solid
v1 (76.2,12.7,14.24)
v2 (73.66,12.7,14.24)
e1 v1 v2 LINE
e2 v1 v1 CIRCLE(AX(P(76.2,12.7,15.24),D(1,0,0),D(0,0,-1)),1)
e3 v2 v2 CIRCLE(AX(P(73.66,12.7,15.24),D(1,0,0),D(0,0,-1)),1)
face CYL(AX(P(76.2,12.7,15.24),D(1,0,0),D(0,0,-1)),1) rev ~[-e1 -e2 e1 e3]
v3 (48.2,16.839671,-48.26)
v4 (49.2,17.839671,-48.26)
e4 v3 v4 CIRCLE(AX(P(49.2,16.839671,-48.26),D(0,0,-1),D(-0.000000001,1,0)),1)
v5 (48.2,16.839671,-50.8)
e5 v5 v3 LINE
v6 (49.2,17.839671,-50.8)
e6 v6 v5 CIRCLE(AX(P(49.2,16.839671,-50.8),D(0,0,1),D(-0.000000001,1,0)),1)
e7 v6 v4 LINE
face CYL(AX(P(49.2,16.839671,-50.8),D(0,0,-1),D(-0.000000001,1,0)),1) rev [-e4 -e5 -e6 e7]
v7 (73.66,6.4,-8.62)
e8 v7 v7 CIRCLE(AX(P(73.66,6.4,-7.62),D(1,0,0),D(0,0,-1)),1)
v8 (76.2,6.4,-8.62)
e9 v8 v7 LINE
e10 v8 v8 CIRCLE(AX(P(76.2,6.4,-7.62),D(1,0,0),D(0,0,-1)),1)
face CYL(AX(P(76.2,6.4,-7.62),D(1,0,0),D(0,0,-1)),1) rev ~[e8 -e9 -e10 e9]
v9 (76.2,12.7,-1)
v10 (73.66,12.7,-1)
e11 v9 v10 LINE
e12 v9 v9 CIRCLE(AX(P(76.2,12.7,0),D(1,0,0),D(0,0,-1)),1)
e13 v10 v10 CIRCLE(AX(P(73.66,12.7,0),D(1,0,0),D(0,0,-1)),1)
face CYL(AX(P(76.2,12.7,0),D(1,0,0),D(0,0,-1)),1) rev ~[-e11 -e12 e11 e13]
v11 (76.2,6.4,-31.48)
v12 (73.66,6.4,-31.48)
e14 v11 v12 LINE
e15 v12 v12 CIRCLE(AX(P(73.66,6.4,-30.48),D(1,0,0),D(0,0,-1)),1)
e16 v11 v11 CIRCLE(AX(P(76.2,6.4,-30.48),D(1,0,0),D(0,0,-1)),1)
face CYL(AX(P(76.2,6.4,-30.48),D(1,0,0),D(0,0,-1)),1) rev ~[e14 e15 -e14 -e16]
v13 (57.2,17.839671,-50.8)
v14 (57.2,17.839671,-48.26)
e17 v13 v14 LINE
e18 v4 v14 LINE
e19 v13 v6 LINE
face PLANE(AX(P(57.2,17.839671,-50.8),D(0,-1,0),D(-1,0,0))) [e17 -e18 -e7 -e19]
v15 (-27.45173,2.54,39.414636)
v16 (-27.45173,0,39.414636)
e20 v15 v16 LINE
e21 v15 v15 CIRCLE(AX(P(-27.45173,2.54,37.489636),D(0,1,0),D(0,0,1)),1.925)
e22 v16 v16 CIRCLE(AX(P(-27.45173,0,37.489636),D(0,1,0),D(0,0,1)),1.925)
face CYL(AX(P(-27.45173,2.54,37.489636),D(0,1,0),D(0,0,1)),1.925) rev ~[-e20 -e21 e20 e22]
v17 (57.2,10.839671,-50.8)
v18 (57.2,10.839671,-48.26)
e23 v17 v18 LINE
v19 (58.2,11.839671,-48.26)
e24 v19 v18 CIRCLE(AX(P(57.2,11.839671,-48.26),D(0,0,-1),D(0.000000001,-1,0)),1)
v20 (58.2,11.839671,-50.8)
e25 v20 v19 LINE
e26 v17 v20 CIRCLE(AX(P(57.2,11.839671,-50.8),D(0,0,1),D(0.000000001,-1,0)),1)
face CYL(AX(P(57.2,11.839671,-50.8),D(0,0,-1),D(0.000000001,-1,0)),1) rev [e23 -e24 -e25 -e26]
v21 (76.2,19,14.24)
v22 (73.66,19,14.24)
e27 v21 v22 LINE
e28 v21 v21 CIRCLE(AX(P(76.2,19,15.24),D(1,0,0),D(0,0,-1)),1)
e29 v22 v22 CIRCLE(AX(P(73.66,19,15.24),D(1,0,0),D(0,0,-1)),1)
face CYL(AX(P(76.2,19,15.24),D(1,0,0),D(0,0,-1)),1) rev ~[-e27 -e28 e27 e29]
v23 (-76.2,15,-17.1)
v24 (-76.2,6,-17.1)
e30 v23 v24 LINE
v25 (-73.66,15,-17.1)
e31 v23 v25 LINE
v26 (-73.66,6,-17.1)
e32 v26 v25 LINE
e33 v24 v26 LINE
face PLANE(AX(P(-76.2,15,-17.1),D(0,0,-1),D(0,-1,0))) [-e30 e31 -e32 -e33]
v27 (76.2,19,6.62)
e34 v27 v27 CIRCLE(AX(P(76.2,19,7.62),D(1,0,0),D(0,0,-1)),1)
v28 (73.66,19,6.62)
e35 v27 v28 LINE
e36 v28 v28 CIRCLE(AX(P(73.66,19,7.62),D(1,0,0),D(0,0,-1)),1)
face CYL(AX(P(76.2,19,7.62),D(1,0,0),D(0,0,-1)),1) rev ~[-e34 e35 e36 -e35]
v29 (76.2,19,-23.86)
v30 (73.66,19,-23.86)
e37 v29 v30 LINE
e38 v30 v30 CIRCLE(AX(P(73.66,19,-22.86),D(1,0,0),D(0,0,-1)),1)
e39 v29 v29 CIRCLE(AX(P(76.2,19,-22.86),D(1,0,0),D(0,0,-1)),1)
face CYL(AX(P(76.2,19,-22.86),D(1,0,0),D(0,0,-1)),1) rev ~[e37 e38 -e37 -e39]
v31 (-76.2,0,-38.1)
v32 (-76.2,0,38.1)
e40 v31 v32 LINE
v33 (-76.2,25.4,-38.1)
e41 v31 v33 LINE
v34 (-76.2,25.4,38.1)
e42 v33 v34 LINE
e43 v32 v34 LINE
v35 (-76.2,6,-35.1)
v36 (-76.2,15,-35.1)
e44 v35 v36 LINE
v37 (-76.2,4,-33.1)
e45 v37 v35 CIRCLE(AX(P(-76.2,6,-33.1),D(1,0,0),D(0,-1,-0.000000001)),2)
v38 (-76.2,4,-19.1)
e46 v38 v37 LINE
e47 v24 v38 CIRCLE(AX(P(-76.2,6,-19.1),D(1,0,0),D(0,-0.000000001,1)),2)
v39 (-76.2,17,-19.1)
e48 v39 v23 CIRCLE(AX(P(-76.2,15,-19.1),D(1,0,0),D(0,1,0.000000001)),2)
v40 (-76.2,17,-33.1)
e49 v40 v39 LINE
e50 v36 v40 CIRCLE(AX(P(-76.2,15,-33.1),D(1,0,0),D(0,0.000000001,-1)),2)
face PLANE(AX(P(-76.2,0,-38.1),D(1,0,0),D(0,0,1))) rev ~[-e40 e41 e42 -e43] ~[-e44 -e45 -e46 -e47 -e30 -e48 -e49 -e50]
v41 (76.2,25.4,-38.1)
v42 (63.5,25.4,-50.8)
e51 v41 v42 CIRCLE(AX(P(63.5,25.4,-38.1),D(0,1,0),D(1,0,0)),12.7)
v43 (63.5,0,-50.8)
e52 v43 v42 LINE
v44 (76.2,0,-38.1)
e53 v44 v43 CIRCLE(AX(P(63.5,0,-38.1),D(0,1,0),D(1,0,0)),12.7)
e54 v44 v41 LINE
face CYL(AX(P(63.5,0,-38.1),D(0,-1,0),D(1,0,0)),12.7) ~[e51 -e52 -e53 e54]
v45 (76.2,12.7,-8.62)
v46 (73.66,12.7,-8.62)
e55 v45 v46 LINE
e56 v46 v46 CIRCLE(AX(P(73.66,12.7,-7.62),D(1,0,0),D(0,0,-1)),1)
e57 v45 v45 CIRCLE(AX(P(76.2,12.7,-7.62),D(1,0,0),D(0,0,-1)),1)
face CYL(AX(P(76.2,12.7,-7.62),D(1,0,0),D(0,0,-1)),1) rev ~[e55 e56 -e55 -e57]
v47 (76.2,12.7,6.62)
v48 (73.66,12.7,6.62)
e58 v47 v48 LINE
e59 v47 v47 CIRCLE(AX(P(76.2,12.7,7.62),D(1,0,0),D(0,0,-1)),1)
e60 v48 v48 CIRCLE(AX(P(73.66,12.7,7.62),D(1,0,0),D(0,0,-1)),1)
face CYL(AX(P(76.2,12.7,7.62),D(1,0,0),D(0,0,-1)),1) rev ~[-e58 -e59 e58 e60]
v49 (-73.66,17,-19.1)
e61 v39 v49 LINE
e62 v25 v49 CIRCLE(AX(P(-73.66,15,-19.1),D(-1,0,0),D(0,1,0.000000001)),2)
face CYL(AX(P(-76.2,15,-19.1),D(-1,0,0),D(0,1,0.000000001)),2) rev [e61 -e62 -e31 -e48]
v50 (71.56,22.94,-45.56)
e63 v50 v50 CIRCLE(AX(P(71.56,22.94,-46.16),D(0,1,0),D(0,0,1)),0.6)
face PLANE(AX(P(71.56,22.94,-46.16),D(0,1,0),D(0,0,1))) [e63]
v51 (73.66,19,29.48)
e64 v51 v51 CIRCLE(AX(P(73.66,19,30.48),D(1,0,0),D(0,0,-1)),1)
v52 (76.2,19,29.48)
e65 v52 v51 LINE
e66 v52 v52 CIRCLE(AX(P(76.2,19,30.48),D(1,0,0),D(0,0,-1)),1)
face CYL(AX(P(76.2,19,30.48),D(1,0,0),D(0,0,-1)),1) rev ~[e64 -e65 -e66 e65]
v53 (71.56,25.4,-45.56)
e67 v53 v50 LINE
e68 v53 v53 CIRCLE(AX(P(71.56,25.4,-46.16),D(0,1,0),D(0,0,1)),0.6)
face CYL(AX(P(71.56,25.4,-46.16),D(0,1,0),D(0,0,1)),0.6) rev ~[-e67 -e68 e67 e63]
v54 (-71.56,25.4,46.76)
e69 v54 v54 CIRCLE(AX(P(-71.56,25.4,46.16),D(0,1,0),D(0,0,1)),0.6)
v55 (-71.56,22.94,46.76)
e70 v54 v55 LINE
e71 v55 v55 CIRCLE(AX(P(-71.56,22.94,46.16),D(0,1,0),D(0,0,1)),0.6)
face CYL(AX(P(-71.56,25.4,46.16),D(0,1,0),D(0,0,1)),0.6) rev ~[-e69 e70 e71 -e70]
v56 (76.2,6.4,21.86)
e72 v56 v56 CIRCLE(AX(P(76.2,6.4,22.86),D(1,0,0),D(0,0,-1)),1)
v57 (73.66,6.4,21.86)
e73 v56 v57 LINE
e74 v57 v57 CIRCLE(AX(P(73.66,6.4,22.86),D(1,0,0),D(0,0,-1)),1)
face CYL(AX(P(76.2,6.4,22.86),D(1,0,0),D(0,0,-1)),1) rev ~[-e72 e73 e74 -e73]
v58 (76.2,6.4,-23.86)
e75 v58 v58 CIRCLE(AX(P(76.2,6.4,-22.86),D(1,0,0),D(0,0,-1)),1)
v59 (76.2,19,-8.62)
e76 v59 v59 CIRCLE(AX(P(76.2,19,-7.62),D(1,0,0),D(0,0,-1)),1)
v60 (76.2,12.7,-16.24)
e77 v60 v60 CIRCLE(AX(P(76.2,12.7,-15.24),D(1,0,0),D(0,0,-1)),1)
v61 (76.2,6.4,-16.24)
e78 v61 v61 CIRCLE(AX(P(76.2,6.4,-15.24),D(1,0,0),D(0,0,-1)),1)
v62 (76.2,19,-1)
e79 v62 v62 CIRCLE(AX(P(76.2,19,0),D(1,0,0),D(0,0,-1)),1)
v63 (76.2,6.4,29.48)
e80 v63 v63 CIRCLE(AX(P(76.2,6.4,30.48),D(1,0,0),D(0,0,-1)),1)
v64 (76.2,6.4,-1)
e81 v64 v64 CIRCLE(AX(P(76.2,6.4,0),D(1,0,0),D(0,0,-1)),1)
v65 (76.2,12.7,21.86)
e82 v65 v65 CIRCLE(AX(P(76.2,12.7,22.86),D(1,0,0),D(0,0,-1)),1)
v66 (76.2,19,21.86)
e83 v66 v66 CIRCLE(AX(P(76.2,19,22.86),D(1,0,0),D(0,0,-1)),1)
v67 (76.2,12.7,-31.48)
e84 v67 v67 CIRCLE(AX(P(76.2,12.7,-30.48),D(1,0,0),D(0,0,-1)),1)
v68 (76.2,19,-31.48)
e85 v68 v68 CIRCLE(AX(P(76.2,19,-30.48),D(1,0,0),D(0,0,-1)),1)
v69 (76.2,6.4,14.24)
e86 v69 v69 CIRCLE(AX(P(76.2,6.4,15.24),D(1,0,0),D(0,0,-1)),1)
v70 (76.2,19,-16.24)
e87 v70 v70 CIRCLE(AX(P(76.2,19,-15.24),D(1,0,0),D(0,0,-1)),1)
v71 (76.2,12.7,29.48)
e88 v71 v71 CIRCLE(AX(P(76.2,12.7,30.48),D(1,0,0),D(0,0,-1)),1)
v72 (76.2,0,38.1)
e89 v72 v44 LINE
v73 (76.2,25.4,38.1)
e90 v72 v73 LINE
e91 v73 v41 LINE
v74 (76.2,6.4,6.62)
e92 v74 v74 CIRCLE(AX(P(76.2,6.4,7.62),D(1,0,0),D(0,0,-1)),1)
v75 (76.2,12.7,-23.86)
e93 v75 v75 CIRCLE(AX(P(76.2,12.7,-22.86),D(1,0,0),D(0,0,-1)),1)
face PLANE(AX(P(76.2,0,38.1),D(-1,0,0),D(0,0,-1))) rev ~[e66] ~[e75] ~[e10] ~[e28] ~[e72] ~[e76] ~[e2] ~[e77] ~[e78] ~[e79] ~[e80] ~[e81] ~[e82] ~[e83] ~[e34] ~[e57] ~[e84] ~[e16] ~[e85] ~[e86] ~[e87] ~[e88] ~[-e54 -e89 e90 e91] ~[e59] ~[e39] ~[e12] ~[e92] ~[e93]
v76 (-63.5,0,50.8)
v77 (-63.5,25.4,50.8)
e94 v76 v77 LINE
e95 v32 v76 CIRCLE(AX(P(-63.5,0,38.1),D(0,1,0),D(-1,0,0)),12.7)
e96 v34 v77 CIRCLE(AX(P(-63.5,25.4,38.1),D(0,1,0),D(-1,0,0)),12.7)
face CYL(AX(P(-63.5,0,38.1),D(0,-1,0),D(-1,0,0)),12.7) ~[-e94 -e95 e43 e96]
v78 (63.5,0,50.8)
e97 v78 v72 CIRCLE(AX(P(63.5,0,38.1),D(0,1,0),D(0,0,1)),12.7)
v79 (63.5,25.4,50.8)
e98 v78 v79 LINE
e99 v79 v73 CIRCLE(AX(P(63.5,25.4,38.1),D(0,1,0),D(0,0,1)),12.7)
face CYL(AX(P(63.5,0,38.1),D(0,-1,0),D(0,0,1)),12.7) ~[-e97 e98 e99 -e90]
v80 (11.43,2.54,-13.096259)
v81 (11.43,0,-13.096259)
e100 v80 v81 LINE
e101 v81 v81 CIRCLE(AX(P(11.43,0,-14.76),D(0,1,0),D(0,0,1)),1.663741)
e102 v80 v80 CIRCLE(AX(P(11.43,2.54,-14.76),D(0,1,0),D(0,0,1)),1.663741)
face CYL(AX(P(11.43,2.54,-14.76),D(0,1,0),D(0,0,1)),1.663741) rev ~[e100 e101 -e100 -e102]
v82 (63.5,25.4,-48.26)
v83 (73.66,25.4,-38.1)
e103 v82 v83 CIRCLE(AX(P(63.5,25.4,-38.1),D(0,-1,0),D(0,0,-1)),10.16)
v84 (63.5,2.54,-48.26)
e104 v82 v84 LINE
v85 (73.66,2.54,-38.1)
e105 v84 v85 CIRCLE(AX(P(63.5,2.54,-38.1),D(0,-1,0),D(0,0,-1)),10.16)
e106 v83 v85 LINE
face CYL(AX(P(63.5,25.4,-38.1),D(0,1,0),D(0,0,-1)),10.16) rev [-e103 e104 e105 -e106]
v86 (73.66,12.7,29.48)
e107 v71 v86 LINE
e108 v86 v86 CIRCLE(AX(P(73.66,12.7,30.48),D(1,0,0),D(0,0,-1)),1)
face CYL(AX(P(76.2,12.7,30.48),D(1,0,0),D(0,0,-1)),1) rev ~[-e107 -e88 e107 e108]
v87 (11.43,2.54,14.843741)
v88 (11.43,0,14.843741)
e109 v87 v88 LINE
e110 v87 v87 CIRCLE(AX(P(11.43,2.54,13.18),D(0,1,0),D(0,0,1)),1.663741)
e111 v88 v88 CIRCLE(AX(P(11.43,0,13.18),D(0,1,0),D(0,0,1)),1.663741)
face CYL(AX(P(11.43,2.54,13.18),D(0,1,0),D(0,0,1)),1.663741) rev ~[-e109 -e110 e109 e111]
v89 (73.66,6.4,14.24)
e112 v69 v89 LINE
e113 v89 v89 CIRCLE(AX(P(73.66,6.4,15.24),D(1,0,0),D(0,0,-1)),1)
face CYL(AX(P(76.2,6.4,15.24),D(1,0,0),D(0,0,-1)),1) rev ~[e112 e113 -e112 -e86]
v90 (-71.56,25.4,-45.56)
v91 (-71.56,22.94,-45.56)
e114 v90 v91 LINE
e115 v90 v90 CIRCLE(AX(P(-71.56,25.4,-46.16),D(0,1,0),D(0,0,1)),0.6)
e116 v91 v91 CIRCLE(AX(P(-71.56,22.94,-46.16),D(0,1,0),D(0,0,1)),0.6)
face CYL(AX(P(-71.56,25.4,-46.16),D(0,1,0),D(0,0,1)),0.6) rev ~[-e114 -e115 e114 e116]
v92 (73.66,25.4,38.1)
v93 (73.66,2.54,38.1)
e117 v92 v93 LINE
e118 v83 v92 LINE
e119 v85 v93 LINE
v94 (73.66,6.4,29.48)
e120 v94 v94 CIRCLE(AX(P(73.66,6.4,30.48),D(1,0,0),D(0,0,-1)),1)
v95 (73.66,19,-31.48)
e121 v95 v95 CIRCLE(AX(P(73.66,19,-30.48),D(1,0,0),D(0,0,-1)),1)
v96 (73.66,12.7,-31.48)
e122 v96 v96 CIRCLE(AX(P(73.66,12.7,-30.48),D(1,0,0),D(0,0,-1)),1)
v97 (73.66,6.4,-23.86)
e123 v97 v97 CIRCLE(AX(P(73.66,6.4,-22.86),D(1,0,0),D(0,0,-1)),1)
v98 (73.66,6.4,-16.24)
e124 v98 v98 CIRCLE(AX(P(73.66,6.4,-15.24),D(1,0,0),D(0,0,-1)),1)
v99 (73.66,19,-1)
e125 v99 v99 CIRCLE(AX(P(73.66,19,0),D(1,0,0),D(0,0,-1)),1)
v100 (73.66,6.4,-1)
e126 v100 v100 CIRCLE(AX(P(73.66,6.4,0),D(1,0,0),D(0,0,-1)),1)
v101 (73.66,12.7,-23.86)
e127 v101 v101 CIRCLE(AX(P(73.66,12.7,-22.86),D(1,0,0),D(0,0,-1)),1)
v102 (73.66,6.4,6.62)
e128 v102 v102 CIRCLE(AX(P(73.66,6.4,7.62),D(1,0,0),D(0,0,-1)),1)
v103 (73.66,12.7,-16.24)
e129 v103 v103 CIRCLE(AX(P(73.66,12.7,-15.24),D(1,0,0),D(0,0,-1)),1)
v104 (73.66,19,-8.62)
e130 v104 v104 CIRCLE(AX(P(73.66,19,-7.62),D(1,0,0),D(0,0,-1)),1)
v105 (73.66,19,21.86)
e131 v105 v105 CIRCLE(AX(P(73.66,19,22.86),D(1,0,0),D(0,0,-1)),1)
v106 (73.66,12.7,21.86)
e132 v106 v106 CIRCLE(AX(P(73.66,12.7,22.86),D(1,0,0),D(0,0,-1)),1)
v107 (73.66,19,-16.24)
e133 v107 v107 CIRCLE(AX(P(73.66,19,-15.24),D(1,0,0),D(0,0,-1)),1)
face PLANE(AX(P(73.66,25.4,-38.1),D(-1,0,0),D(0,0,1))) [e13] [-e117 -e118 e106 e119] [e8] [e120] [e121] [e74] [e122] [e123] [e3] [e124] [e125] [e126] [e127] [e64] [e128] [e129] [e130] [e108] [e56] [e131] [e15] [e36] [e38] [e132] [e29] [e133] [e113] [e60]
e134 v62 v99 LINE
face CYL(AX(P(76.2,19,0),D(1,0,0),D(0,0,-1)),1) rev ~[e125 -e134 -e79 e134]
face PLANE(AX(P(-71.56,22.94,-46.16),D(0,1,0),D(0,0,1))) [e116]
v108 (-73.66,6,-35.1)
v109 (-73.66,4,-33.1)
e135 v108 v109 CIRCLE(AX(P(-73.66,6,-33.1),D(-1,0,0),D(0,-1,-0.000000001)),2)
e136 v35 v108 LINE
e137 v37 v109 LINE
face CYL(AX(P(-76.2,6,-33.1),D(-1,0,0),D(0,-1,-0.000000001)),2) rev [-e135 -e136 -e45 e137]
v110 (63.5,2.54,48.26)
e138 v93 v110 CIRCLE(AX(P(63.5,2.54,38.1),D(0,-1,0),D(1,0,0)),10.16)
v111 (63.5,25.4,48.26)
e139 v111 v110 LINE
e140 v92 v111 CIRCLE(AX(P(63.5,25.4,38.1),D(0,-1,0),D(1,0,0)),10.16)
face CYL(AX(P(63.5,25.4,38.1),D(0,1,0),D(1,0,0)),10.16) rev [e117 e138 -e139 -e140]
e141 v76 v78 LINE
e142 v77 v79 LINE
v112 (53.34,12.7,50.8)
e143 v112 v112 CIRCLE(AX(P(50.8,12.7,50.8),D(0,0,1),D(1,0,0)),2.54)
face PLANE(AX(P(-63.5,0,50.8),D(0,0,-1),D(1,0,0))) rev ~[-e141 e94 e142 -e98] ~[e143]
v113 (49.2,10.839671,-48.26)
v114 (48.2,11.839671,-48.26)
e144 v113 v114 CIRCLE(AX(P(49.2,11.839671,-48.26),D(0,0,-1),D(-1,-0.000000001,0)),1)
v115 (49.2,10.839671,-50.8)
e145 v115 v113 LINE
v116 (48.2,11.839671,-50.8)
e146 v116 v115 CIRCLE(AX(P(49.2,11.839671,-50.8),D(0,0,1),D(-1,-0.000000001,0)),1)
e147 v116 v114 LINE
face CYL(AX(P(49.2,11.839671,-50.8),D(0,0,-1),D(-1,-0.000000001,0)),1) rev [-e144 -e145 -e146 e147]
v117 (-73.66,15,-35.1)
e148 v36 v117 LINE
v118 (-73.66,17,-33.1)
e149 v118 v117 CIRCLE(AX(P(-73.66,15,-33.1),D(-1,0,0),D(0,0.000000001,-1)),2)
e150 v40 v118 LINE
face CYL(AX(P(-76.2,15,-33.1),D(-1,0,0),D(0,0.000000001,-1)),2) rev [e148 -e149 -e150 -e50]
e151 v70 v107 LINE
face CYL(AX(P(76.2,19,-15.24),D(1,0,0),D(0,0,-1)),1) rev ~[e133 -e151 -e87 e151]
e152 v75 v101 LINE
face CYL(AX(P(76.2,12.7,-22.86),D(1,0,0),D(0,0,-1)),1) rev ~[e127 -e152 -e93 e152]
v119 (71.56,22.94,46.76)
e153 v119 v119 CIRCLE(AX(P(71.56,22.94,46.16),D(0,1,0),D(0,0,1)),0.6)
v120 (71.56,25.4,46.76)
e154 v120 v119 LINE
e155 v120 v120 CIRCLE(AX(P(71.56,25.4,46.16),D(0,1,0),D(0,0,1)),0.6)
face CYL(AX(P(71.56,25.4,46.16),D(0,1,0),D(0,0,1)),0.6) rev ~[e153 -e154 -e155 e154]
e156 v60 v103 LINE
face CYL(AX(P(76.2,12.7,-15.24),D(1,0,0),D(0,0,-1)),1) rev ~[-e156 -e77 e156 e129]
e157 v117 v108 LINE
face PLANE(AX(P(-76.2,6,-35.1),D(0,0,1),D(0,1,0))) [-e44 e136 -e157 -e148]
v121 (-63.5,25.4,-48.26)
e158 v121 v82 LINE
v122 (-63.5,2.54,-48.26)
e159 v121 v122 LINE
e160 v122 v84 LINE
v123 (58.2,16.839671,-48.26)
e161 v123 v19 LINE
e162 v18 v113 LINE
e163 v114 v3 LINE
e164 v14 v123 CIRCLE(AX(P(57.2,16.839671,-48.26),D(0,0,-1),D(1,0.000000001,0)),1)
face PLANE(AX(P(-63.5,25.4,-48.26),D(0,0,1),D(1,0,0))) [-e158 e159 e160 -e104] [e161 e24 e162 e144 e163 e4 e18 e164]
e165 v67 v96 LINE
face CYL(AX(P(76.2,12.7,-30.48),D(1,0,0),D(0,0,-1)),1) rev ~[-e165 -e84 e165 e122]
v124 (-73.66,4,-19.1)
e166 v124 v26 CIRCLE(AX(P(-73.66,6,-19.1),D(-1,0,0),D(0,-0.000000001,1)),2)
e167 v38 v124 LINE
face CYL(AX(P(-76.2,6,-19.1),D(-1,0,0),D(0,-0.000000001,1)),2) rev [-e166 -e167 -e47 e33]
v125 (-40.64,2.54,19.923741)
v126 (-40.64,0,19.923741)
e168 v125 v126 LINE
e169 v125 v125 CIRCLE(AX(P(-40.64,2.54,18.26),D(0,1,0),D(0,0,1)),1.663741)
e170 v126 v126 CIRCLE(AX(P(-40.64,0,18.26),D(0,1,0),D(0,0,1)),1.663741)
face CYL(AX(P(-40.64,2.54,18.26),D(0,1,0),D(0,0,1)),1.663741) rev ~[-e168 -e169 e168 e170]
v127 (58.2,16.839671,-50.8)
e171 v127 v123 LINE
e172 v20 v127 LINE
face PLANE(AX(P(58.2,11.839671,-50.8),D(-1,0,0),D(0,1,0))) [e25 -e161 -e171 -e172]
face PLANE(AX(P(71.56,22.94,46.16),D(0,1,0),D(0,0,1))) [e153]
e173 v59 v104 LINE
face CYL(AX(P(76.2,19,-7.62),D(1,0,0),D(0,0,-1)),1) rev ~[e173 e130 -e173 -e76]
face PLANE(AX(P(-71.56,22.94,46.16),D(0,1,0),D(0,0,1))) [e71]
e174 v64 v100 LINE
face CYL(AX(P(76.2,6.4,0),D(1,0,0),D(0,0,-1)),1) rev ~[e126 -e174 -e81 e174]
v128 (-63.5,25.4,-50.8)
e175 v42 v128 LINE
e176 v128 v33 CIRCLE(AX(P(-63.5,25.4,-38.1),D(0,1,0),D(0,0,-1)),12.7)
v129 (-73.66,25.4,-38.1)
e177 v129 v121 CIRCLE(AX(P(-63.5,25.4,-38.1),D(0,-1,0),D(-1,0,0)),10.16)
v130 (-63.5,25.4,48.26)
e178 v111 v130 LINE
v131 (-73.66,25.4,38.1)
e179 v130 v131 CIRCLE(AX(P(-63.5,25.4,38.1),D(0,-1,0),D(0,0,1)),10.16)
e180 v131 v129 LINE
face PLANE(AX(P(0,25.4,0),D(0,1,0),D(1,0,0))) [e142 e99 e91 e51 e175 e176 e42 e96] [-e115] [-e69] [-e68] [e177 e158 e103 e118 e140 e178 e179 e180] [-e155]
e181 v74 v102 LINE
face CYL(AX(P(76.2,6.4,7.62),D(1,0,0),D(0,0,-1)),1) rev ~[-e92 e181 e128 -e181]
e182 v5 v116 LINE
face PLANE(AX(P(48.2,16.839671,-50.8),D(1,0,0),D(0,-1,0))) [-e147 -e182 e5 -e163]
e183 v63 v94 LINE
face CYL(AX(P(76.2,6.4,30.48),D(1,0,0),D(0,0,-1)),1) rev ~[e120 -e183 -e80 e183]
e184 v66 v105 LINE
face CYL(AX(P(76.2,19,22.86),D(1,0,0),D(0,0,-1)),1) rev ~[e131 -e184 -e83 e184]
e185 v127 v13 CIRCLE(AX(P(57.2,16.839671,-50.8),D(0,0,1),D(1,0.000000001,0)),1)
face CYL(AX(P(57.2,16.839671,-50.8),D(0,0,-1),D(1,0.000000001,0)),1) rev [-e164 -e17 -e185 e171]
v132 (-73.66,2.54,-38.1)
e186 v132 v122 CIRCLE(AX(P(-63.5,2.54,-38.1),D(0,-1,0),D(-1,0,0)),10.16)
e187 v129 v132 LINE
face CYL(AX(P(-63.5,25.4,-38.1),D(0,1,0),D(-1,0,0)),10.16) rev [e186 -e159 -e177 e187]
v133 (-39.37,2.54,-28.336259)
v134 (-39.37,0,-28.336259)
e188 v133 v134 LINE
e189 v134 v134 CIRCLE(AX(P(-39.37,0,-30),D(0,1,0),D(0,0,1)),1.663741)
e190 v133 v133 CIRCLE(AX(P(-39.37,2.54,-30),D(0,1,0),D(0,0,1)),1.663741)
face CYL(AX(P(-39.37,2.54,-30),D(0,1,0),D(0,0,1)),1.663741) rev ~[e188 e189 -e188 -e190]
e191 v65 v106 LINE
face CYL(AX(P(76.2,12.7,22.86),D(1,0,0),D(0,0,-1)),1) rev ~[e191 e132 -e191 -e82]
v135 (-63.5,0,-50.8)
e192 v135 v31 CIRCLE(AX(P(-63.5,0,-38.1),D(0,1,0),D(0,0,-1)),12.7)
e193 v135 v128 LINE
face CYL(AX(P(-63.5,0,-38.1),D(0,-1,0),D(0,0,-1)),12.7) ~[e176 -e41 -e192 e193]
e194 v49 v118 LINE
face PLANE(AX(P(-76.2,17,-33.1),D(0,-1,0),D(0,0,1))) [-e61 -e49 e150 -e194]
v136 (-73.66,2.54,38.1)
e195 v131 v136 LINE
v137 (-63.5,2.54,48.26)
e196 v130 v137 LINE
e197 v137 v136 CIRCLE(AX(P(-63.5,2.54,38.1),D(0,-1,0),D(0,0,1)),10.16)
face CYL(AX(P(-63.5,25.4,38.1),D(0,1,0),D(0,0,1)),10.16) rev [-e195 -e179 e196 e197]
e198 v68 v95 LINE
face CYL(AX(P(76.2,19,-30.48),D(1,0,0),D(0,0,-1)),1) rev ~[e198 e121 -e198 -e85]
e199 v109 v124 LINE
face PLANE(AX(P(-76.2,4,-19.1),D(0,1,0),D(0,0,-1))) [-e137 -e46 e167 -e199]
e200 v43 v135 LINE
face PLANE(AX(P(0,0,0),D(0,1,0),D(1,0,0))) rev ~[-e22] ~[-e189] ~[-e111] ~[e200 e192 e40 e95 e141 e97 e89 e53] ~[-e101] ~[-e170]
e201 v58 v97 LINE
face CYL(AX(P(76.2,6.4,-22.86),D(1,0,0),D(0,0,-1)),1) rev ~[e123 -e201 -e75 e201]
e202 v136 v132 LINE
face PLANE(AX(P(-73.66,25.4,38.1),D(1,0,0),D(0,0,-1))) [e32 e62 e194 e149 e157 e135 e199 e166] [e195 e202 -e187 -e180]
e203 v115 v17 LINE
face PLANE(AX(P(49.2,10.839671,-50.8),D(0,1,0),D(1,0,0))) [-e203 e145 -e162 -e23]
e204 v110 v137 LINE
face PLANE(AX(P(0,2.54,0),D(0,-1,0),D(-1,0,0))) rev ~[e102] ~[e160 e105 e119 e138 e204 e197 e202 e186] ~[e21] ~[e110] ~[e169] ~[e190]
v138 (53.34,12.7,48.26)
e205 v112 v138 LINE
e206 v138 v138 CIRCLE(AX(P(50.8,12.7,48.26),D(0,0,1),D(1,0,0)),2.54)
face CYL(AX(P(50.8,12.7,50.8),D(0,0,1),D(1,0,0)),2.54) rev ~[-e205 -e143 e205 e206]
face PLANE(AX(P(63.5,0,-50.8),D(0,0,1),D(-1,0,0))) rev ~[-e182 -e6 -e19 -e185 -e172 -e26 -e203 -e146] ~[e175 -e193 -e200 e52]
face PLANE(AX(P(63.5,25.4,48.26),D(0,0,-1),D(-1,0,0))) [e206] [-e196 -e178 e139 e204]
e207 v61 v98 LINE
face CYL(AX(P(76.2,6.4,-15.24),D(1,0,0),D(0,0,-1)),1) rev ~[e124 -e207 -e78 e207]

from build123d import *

# Parameters (mm, degrees)
BOSS_EXTRUDE1_DEPTH = 25.4
CUT_EXTRUDE6_DEPTH  = 22.86
SKETCH7_R           = 0.6
CUT_EXTRUDE8_DEPTH  = 2.46
CUT_EXTRUDE9_DEPTH  = 10
SKETCH12_R          = 1
CUT_EXTRUDE10_DEPTH = 10
CUT_EXTRUDE12_DEPTH = 10
SKETCH14_R          = 1.663741232
CUT_EXTRUDE13_DEPTH = 95.390993214
SKETCH15_R          = 1.925
CUT_EXTRUDE14_DEPTH = 95.390993214
SKETCH16_R          = 2.54
CUT_EXTRUDE15_DEPTH = 5.08


with BuildPart() as part:
    # Sketch1 → Boss-Extrude1 (new body)
    with BuildSketch(Plane(origin=(0, 0, 0), x_dir=(1, 0, 0), z_dir=(0, 1, 0))):
        with BuildLine():
            Line((63.5, 50.8), (-63.5, 50.8))
            ThreePointArc((-63.5, 50.8), (-72.480256121, 47.080256121), (-76.2, 38.1))
            Line((-76.2, 38.1), (-76.2, -38.1))
            ThreePointArc((-76.2, -38.1), (-72.480256121, -47.080256121), (-63.5, -50.8))
            Line((-63.5, -50.8), (63.5, -50.8))
            ThreePointArc((63.5, -50.8), (72.480256121, -47.080256121), (76.2, -38.1))
            Line((76.2, -38.1), (76.2, 38.1))
            ThreePointArc((76.2, 38.1), (72.480256121, 47.080256121), (63.5, 50.8))
        make_face()
    extrude(amount=BOSS_EXTRUDE1_DEPTH)

    # Sketch4 → Cut-Extrude6 (cut)
    with BuildSketch(Plane(origin=(0, 25.4, 0), x_dir=(1, 0, 0), z_dir=(0, 1, 0))):
        with BuildLine():
            Line((-63.5, 48.26), (63.5, 48.26))
            ThreePointArc((63.5, 48.26), (70.684204897, 45.284204897), (73.66, 38.1))
            Line((73.66, 38.1), (73.66, -38.1))
            ThreePointArc((73.66, -38.1), (70.684204897, -45.284204897), (63.5, -48.26))
            Line((63.5, -48.26), (-63.5, -48.26))
            ThreePointArc((-63.5, -48.26), (-70.684204897, -45.284204897), (-73.66, -38.1))
            Line((-73.66, -38.1), (-73.66, 38.1))
            ThreePointArc((-73.66, 38.1), (-70.684204897, 45.284204897), (-63.5, 48.26))
        make_face()
    extrude(amount=-CUT_EXTRUDE6_DEPTH, mode=Mode.SUBTRACT)

    # Sketch7 → Cut-Extrude8 (cut)
    with BuildSketch(Plane(origin=(0, 25.4, 0), x_dir=(1, 0, 0), z_dir=(0, 1, 0))):
        with Locations(Location((-71.56, 46.16, 0), (0, 0, 270))):
            Circle(SKETCH7_R)
        with Locations(Location((-71.56, -46.16, 0), (0, 0, 270))):
            Circle(SKETCH7_R)
        with Locations(Location((71.56, -46.16, 0), (0, 0, 270))):
            Circle(SKETCH7_R)
        with Locations(Location((71.56, 46.16, 0), (0, 0, 270))):
            Circle(SKETCH7_R)
    extrude(amount=-CUT_EXTRUDE8_DEPTH, mode=Mode.SUBTRACT)

    # Sketch10 → Cut-Extrude9 (cut)
    with BuildSketch(Plane.ZY.offset(76.2)):
        with BuildLine():
            Line((-33.1, 17), (-19.1, 17))
            ThreePointArc((-19.1, 17), (-17.685786438, 16.414213562), (-17.1, 15))
            Line((-17.1, 15), (-17.1, 6))
            ThreePointArc((-17.1, 6), (-17.685786438, 4.585786438), (-19.1, 4))
            Line((-19.1, 4), (-33.1, 4))
            ThreePointArc((-33.1, 4), (-34.514213562, 4.585786438), (-35.1, 6))
            Line((-35.1, 6), (-35.1, 15))
            ThreePointArc((-35.1, 15), (-34.514213562, 16.414213562), (-33.1, 17))
        make_face()
    extrude(amount=-CUT_EXTRUDE9_DEPTH, mode=Mode.SUBTRACT)

    # Sketch12 → Cut-Extrude10 (cut)
    with BuildSketch(Plane(origin=(76.2, 0, 0), x_dir=(0, 0, -1), z_dir=(1, 0, 0))):
        with Locations((-30.48, 19)):
            Circle(SKETCH12_R)
        with Locations((-30.48, 12.7)):
            Circle(SKETCH12_R)
        with Locations((-30.48, 6.4)):
            Circle(SKETCH12_R)
        with Locations((-22.86, 19)):
            Circle(SKETCH12_R)
        with Locations((-22.86, 12.7)):
            Circle(SKETCH12_R)
        with Locations((-22.86, 6.4)):
            Circle(SKETCH12_R)
        with Locations((-15.24, 19)):
            Circle(SKETCH12_R)
        with Locations((-15.24, 12.7)):
            Circle(SKETCH12_R)
        with Locations((-15.24, 6.4)):
            Circle(SKETCH12_R)
        with Locations((-7.62, 19)):
            Circle(SKETCH12_R)
        with Locations((-7.62, 12.7)):
            Circle(SKETCH12_R)
        with Locations((-7.62, 6.4)):
            Circle(SKETCH12_R)
        with Locations((0, 19)):
            Circle(SKETCH12_R)
        with Locations((0, 12.7)):
            Circle(SKETCH12_R)
        with Locations((0, 6.4)):
            Circle(SKETCH12_R)
        with Locations((7.62, 19)):
            Circle(SKETCH12_R)
        with Locations((7.62, 12.7)):
            Circle(SKETCH12_R)
        with Locations((7.62, 6.4)):
            Circle(SKETCH12_R)
        with Locations((15.24, 19)):
            Circle(SKETCH12_R)
        with Locations((15.24, 12.7)):
            Circle(SKETCH12_R)
        with Locations((15.24, 6.4)):
            Circle(SKETCH12_R)
        with Locations((22.86, 19)):
            Circle(SKETCH12_R)
        with Locations((22.86, 12.7)):
            Circle(SKETCH12_R)
        with Locations((22.86, 6.4)):
            Circle(SKETCH12_R)
        with Locations((30.48, 19)):
            Circle(SKETCH12_R)
        with Locations((30.48, 12.7)):
            Circle(SKETCH12_R)
        with Locations((30.48, 6.4)):
            Circle(SKETCH12_R)
    extrude(amount=-CUT_EXTRUDE10_DEPTH, mode=Mode.SUBTRACT)

    # Sketch13 → Cut-Extrude12 (cut)
    with BuildSketch(Plane(origin=(0, 0, -50.8), x_dir=(-1, 0, 0), z_dir=(0, 0, -1))):
        with BuildLine():
            Line((-57.2, 17.839671087), (-49.2, 17.839671087))
            ThreePointArc((-49.2, 17.839671087), (-48.492893219, 17.546777868), (-48.2, 16.839671087))
            Line((-48.2, 16.839671087), (-48.2, 11.839671087))
            ThreePointArc((-48.2, 11.839671087), (-48.492893219, 11.132564306), (-49.2, 10.839671087))
            Line((-49.2, 10.839671087), (-57.2, 10.839671087))
            ThreePointArc((-57.2, 10.839671087), (-57.907106781, 11.132564306), (-58.2, 11.839671087))
            Line((-58.2, 11.839671087), (-58.2, 16.839671087))
            ThreePointArc((-58.2, 16.839671087), (-57.907106781, 17.546777868), (-57.2, 17.839671087))
        make_face()
    extrude(amount=-CUT_EXTRUDE12_DEPTH, mode=Mode.SUBTRACT)

    # Sketch14 → Cut-Extrude13 (cut, through all)
    with BuildSketch(Plane(origin=(0, 2.54, 0), x_dir=(1, 0, 0), z_dir=(0, 1, 0))):
        with Locations(Location((-39.37, 30, 0), (0, 0, 270))):
            Circle(SKETCH14_R)
        with Locations(Location((-40.64, -18.26, 0), (0, 0, 270))):
            Circle(SKETCH14_R)
        with Locations(Location((11.43, -13.18, 0), (0, 0, 270))):
            Circle(SKETCH14_R)
        with Locations(Location((11.43, 14.76, 0), (0, 0, 270))):
            Circle(SKETCH14_R)
    extrude(amount=-CUT_EXTRUDE13_DEPTH, mode=Mode.SUBTRACT)

    # Sketch15 → Cut-Extrude14 (cut, through all)
    with BuildSketch(Plane(origin=(0, 2.54, 0), x_dir=(1, 0, 0), z_dir=(0, 1, 0))):
        with Locations(Location((-27.451730326, -37.489635759, 0), (0, 0, 270))):
            Circle(SKETCH15_R)
    extrude(amount=-CUT_EXTRUDE14_DEPTH, mode=Mode.SUBTRACT)

    # Sketch16 → Cut-Extrude15 (cut)
    with BuildSketch(Plane.XY.offset(50.8)):
        with Locations((50.8, 12.7)):
            Circle(SKETCH16_R)
    extrude(amount=-CUT_EXTRUDE15_DEPTH, mode=Mode.SUBTRACT)


solid = part.part
